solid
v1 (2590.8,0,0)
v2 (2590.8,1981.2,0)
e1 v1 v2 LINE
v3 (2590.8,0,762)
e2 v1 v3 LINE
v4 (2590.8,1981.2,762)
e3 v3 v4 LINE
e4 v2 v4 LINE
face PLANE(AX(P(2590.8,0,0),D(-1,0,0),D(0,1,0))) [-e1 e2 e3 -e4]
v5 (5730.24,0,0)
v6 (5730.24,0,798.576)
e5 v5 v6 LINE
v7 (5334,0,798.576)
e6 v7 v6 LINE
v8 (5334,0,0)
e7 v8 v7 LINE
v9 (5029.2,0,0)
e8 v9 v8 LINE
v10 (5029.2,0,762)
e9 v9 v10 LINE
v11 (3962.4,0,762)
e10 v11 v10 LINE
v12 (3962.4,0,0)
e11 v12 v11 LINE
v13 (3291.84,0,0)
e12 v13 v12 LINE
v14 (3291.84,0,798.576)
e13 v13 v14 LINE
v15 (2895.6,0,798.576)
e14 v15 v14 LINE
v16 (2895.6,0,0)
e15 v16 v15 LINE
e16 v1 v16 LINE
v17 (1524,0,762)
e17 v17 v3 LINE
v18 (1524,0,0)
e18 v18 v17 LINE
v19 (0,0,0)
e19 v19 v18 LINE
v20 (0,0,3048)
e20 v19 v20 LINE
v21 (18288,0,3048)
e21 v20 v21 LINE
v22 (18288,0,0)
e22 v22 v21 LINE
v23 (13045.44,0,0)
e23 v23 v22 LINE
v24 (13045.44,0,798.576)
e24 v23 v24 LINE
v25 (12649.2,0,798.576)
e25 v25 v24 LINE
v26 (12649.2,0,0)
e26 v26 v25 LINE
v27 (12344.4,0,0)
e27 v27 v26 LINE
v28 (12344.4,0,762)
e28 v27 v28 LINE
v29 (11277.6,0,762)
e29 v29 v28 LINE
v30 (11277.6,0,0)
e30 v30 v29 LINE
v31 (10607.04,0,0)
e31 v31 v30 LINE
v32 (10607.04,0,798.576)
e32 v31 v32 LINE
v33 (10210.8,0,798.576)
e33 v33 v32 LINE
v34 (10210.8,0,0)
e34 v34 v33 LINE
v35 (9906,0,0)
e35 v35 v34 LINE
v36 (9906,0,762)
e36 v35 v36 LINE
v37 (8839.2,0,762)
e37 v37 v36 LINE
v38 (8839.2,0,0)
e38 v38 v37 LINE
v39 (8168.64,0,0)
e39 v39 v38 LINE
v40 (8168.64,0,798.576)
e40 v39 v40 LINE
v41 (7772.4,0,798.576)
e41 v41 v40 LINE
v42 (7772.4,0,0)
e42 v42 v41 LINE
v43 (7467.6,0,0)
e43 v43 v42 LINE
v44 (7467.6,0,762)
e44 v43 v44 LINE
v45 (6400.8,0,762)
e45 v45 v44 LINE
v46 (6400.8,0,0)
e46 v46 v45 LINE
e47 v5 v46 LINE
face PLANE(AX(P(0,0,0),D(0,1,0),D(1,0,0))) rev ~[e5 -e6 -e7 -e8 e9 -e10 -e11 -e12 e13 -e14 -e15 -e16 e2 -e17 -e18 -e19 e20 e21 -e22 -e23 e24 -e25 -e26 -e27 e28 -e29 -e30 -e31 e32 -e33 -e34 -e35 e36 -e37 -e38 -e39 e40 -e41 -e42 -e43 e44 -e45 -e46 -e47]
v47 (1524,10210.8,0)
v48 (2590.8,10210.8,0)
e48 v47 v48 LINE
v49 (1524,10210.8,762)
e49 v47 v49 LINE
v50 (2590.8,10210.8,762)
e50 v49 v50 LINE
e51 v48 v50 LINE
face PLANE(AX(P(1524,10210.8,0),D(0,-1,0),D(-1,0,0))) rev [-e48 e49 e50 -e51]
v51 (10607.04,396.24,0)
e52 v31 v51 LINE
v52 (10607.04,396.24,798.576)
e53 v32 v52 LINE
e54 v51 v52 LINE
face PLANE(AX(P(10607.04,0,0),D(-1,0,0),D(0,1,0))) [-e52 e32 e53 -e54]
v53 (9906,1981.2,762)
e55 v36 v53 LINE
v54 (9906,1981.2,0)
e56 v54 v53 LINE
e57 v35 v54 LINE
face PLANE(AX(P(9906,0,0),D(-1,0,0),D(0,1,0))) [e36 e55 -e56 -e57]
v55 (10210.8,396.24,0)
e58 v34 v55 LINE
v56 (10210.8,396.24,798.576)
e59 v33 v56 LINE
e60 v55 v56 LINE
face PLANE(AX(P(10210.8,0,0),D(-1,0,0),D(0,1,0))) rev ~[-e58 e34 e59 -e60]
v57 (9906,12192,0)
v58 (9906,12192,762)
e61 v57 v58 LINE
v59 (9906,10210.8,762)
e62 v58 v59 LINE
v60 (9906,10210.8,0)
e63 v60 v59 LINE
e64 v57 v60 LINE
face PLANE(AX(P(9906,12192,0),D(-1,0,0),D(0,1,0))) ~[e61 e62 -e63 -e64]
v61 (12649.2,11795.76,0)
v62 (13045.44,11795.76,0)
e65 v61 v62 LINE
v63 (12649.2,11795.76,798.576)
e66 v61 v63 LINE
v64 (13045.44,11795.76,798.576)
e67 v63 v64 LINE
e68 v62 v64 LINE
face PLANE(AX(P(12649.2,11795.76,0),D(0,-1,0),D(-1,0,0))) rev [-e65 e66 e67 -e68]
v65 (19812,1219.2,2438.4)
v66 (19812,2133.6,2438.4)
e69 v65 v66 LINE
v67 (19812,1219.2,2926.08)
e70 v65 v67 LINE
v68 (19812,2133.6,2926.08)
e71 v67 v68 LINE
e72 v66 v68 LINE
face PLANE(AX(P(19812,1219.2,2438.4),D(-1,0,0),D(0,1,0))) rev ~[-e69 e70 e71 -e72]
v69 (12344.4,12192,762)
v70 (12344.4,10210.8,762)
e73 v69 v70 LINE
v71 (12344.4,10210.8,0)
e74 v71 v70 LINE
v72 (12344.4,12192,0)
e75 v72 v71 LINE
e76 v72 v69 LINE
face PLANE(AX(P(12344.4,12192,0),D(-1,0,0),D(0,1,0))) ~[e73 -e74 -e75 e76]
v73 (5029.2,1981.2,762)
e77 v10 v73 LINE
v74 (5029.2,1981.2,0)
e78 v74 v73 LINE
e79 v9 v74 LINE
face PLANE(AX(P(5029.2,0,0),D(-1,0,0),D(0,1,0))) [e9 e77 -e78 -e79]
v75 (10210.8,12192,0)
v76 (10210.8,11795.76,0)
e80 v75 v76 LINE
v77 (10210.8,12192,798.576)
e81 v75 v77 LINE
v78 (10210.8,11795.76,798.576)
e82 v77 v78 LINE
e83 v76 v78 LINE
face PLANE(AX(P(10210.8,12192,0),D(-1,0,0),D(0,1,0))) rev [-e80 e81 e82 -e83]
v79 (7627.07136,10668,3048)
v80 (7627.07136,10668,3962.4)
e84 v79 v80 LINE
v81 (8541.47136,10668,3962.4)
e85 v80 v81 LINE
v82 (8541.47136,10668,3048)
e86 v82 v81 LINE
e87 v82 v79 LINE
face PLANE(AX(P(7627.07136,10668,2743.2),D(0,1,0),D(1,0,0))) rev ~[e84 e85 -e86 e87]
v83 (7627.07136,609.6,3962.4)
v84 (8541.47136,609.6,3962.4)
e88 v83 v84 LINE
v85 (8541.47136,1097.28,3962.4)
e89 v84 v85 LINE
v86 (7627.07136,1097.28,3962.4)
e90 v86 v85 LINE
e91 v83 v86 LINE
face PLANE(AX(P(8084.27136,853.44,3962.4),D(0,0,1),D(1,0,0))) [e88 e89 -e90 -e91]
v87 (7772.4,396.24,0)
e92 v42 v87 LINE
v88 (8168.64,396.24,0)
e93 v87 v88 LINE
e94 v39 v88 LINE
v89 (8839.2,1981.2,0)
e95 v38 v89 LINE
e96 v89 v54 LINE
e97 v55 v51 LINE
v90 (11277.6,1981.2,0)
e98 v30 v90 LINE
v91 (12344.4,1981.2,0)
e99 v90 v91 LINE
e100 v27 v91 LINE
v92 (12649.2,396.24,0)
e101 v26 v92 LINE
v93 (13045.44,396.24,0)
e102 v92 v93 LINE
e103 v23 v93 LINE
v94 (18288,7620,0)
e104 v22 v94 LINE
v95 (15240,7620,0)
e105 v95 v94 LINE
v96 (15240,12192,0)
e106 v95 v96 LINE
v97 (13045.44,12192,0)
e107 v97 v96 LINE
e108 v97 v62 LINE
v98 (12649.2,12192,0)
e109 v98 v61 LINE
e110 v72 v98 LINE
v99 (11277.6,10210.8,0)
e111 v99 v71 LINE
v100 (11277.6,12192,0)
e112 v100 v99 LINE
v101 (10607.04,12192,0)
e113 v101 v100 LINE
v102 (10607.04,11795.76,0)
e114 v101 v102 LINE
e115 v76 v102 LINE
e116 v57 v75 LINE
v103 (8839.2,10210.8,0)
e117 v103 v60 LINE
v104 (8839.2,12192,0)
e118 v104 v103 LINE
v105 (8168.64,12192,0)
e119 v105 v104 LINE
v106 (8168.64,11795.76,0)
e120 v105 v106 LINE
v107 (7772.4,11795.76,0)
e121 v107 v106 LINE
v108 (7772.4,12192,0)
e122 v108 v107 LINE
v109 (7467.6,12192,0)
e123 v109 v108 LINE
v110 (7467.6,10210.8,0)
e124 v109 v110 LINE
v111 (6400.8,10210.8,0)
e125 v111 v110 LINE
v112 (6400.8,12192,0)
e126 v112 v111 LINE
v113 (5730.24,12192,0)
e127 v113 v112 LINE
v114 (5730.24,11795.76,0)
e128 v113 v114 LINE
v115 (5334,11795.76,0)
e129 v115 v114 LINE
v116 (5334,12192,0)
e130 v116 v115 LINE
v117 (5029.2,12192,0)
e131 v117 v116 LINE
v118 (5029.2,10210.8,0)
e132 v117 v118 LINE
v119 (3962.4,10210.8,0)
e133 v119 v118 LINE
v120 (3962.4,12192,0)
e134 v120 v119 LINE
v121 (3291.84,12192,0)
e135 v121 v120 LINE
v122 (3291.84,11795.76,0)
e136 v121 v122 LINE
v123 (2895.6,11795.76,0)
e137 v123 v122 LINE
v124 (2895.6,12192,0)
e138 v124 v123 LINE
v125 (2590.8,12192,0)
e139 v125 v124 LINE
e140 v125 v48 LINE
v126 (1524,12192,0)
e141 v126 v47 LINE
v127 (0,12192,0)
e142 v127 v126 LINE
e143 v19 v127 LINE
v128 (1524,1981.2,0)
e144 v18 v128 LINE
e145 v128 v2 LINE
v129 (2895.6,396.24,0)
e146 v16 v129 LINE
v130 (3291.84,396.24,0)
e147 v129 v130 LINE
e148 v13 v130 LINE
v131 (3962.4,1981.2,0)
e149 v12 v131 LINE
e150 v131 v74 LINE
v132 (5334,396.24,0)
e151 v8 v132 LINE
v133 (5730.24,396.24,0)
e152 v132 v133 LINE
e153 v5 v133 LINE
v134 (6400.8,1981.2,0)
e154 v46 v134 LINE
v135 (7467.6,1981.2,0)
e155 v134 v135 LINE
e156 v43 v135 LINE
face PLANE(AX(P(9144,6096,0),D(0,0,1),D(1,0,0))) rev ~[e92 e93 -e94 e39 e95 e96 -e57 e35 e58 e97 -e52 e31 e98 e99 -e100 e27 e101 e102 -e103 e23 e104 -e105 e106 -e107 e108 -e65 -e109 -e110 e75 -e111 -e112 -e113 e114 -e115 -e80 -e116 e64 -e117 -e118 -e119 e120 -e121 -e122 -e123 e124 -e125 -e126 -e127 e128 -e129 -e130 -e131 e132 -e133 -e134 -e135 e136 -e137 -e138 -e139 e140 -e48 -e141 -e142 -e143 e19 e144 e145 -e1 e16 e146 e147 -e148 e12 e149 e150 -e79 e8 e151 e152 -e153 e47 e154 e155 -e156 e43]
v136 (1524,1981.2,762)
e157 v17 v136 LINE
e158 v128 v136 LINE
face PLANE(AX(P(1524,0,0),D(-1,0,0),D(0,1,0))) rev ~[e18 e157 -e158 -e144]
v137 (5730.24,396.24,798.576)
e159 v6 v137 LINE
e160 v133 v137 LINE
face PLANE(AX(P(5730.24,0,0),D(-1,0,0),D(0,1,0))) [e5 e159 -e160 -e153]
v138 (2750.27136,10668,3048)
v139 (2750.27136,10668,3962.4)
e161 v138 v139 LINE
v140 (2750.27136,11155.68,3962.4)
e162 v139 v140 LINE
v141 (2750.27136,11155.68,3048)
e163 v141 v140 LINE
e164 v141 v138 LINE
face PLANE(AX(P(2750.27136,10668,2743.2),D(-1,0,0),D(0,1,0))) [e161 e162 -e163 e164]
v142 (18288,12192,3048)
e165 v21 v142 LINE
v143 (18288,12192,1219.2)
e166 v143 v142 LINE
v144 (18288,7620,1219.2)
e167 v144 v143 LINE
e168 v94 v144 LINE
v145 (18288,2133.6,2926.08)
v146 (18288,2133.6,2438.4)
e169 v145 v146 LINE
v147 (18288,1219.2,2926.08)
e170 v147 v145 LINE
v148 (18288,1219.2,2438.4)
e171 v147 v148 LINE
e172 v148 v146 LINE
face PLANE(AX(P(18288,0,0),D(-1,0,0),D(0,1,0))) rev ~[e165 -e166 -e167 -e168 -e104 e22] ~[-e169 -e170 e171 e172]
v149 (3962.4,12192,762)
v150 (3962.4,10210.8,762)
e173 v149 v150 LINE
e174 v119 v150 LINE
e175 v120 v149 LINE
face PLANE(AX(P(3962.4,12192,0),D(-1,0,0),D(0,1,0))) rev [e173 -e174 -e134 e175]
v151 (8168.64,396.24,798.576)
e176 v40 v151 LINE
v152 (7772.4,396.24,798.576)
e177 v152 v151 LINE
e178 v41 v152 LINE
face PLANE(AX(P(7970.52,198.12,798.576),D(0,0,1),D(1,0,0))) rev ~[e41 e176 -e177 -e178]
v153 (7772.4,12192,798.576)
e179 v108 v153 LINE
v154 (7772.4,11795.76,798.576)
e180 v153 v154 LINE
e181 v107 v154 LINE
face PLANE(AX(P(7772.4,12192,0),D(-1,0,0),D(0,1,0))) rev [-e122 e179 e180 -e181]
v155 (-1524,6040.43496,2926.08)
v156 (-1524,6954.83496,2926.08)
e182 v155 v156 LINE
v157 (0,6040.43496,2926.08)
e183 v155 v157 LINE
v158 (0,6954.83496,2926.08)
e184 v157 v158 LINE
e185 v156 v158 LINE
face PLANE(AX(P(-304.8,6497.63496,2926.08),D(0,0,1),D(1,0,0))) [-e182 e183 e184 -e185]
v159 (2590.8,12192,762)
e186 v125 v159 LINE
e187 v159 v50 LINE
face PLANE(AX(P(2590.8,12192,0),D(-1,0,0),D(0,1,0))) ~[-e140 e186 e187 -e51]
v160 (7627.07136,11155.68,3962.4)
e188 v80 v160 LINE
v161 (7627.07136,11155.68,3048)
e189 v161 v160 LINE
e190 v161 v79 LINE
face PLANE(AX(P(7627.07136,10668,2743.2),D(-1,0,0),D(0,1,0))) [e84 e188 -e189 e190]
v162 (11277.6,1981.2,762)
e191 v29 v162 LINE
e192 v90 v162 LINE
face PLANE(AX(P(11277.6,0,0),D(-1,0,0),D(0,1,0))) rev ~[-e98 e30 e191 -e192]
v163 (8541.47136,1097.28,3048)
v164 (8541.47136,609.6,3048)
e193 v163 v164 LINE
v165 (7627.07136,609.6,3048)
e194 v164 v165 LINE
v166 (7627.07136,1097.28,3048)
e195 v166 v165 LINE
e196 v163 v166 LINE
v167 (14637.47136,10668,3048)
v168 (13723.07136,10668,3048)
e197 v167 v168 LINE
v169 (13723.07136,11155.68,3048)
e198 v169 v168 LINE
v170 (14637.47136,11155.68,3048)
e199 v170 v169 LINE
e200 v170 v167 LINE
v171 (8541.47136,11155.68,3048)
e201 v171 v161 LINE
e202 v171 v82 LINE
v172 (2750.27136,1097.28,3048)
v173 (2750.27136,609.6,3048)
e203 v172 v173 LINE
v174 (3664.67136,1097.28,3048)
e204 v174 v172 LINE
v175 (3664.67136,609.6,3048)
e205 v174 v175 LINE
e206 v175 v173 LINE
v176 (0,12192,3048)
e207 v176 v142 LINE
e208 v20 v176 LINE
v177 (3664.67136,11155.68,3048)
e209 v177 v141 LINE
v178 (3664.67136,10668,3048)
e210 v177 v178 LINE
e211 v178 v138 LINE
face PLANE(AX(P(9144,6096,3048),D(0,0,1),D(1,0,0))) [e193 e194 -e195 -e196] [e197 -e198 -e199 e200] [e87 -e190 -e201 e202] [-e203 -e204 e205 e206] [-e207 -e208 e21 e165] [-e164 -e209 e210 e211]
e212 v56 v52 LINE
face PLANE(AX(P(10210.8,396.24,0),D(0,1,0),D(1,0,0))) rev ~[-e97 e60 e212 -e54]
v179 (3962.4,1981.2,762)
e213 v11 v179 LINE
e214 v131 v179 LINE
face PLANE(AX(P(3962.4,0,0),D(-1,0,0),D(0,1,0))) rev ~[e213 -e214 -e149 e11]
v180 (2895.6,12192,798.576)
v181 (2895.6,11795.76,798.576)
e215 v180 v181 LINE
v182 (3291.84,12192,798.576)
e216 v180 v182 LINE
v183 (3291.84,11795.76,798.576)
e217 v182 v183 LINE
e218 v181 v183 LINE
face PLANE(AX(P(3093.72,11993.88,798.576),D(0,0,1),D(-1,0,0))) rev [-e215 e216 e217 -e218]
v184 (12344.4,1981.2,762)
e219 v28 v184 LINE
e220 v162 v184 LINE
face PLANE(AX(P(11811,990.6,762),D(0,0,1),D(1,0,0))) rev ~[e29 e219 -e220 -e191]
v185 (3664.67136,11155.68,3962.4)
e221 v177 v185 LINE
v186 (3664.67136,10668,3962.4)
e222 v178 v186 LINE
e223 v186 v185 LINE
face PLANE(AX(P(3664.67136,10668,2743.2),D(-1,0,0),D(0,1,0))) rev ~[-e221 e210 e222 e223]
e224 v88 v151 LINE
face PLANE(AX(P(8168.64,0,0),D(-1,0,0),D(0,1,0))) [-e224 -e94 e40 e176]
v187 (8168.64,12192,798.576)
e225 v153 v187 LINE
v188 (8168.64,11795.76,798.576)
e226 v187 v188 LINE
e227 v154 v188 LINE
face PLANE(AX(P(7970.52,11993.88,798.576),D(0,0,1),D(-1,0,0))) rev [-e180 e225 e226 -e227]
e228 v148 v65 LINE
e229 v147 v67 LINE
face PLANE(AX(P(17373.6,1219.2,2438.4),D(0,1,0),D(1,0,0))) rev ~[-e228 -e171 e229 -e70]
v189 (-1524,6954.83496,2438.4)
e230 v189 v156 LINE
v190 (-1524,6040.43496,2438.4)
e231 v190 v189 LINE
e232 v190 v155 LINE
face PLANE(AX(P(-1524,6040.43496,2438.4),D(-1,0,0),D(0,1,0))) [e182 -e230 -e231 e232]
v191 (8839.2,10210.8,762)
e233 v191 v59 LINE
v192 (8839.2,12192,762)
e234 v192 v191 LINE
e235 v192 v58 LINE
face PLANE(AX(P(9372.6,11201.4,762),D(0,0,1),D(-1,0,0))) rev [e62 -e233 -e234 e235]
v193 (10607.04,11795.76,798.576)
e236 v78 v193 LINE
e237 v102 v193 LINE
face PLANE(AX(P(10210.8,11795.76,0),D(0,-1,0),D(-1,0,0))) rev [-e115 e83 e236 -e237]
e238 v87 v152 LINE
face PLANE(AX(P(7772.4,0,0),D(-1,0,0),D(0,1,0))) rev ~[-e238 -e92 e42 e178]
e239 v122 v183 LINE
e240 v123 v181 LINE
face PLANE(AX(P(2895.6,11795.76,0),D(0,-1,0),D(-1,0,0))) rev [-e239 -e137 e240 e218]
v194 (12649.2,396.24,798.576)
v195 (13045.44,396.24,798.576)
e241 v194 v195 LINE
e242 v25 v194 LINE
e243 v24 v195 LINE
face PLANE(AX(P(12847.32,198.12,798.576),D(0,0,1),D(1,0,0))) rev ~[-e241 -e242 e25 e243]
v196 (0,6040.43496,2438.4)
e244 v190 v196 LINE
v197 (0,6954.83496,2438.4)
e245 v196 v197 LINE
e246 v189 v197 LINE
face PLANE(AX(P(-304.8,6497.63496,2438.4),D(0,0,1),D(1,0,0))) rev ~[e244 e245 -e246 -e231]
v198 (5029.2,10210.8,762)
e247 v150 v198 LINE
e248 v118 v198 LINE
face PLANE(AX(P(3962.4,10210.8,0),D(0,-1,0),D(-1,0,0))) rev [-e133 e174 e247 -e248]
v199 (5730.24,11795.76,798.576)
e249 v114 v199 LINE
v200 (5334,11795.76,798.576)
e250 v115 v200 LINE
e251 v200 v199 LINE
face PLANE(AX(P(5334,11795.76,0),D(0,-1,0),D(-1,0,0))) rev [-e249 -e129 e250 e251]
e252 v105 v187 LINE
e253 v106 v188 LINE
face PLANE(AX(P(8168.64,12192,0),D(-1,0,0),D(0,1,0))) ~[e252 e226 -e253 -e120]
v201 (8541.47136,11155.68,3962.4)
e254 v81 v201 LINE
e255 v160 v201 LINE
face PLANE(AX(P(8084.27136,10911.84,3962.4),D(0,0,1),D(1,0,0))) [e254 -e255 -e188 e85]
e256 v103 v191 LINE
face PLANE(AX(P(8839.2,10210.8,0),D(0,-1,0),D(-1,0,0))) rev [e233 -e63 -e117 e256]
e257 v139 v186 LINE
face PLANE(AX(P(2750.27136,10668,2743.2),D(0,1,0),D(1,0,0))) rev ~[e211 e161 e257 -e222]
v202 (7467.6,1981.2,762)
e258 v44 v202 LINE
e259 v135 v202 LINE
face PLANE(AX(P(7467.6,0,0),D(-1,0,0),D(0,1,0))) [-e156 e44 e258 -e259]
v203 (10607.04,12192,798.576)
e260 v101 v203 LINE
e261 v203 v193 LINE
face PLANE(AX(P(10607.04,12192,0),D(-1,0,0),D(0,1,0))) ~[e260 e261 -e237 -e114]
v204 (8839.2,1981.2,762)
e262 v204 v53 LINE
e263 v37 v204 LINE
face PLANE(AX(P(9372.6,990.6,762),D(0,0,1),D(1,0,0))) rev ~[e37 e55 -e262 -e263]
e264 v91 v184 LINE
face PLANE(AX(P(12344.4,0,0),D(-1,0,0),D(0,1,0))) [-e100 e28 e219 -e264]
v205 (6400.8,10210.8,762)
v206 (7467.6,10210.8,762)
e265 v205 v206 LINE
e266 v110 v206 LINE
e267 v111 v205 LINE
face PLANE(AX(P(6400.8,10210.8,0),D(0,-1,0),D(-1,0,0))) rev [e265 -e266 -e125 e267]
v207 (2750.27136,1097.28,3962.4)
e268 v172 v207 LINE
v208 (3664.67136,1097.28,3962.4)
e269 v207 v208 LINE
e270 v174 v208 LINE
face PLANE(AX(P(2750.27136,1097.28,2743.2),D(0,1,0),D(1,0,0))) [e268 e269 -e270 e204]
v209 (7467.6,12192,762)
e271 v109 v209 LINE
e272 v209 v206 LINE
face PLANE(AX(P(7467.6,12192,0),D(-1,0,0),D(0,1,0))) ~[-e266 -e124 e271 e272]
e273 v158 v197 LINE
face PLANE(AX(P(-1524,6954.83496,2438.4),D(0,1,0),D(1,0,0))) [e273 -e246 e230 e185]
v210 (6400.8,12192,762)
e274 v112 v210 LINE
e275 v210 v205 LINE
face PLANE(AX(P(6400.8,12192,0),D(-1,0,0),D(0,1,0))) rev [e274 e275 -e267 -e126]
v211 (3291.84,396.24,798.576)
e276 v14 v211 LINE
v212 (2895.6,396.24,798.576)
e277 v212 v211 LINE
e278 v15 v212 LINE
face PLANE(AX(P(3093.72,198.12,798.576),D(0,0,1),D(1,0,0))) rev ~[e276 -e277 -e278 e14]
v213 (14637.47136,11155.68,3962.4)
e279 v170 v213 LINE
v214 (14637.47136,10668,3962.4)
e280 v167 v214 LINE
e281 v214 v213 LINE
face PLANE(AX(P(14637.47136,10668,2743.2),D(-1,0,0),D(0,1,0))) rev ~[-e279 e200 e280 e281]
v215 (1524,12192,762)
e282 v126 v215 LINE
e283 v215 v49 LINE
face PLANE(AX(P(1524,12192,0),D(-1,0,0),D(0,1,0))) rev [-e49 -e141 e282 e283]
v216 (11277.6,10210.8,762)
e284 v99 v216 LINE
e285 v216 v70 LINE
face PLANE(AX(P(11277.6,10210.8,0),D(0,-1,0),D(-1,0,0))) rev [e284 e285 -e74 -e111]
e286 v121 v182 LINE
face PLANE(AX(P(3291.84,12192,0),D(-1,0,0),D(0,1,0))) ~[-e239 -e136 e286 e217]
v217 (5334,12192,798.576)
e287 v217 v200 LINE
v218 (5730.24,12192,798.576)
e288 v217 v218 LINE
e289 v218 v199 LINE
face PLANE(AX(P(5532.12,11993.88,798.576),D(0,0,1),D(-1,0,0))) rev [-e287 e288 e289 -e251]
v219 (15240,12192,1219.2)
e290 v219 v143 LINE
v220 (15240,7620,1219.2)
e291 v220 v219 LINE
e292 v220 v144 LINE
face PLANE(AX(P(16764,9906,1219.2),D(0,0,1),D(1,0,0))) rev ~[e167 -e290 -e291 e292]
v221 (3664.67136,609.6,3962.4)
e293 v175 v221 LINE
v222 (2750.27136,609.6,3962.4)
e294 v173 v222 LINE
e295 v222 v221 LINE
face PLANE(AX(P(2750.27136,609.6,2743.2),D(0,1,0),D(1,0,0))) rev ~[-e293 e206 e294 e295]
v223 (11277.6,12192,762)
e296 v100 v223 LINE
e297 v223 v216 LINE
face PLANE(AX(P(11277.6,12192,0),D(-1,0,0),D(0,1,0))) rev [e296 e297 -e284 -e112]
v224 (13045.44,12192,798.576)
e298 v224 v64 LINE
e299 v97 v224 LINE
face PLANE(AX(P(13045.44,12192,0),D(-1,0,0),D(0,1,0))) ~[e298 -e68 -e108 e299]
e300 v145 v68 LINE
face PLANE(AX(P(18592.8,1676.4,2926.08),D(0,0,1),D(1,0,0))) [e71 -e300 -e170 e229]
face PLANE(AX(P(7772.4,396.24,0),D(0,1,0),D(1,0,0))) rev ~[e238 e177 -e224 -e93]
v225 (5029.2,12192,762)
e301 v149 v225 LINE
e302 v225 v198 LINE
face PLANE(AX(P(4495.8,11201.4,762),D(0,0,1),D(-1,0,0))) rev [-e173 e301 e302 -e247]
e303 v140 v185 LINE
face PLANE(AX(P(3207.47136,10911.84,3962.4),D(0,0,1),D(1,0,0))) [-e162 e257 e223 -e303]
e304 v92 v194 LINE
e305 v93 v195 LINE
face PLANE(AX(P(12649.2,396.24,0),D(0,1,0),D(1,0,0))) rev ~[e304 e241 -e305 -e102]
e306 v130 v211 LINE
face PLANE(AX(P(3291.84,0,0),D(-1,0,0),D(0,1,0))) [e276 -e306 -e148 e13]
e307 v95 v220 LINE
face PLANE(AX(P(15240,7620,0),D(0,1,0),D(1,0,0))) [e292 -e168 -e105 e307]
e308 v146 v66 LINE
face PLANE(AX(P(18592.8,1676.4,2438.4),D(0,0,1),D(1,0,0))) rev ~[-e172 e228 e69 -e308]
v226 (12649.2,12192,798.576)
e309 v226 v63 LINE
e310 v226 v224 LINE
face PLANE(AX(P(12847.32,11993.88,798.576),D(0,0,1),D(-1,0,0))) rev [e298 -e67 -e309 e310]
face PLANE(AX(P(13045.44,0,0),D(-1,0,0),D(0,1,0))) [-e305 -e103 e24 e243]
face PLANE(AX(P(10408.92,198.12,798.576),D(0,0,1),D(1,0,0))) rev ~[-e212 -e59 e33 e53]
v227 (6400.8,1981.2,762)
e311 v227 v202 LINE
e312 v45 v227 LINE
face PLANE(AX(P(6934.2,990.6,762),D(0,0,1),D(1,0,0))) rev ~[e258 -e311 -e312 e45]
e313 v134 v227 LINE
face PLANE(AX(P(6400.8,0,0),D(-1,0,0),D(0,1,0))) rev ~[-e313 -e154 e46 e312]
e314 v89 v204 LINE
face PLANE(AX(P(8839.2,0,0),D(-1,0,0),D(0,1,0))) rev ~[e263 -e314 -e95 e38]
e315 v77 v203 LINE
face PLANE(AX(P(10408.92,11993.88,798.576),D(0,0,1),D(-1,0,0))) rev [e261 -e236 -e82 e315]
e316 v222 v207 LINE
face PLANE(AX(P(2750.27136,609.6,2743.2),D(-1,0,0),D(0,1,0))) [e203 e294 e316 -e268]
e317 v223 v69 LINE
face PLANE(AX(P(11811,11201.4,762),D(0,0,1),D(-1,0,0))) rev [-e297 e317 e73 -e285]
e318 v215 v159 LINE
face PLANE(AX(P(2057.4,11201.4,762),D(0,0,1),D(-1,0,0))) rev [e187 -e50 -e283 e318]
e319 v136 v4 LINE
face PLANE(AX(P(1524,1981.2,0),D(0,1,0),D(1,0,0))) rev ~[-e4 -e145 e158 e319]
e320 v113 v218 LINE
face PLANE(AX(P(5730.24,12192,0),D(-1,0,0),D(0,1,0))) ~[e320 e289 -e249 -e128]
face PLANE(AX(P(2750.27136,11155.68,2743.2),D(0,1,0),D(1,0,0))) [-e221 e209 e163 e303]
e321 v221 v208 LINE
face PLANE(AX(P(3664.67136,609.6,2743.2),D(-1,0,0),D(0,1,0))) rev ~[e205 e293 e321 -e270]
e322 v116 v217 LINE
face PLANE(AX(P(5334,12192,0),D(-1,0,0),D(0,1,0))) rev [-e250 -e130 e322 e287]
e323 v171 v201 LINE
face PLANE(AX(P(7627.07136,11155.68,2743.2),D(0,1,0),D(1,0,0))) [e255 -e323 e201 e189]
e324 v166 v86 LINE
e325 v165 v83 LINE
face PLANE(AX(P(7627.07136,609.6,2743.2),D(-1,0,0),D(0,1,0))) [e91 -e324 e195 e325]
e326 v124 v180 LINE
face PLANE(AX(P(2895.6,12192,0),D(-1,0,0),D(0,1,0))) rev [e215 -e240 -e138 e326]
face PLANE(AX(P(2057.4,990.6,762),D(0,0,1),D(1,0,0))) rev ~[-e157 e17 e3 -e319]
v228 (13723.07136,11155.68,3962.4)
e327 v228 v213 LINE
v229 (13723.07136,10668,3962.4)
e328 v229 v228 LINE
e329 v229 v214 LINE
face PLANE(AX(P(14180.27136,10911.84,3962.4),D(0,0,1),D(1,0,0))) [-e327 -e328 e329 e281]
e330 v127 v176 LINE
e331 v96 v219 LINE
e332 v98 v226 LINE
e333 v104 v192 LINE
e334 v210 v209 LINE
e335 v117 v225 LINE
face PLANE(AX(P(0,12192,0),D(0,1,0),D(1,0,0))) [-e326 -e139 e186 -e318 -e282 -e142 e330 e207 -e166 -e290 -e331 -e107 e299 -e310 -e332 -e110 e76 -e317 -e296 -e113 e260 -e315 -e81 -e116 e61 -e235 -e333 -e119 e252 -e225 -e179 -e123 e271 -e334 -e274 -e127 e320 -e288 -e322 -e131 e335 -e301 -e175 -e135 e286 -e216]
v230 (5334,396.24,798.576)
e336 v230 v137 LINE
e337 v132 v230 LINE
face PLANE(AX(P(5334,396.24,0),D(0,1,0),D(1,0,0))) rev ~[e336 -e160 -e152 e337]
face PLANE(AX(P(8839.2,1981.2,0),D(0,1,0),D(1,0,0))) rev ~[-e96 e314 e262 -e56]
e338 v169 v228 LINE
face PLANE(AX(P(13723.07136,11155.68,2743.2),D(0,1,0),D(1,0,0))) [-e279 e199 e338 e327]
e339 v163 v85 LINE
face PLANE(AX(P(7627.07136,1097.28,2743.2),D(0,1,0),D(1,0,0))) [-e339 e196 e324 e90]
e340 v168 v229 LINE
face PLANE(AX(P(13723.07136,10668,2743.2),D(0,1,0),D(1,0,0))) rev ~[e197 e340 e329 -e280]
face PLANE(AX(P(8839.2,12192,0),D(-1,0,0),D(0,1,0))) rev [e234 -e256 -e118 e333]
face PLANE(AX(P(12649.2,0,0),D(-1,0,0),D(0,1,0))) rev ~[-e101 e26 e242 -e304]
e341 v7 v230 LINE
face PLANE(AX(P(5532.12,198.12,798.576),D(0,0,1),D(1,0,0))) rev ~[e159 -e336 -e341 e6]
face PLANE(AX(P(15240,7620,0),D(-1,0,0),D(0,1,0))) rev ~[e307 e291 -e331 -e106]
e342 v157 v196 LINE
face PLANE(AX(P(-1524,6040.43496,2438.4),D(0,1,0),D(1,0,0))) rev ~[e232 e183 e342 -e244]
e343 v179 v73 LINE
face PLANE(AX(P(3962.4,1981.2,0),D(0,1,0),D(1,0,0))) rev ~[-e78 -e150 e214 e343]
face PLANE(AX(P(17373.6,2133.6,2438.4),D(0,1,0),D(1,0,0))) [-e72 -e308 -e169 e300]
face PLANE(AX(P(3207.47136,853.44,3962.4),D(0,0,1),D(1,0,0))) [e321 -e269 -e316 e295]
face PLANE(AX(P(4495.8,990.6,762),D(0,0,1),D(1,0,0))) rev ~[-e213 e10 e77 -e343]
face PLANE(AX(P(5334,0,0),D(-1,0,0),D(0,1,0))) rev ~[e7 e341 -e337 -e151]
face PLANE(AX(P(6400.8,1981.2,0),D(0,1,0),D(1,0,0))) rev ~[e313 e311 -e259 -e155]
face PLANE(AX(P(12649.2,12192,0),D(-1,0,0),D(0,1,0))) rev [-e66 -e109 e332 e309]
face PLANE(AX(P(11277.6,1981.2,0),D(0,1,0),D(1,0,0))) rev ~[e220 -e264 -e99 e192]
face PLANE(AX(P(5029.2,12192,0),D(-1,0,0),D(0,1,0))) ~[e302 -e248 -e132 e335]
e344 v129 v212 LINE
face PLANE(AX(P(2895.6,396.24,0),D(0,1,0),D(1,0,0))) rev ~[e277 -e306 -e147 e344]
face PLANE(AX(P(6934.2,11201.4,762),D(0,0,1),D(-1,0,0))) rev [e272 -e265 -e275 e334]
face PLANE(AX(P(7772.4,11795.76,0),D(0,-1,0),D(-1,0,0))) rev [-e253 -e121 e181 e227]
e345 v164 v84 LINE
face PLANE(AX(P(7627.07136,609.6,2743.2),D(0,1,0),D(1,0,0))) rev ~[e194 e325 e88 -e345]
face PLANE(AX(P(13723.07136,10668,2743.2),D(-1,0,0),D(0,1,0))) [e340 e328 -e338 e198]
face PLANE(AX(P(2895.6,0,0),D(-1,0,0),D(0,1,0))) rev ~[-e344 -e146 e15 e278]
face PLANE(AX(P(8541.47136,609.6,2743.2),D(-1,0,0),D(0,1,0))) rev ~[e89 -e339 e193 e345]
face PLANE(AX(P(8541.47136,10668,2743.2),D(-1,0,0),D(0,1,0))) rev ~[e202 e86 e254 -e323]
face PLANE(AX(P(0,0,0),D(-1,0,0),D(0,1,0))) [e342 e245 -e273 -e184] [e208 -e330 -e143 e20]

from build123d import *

# Parameters (mm, degrees)
BOX011_W     = 3048
BOX011_H     = 4572
BOX011_DEPTH = 1219.2
BOX006_W     = 1066.8
BOX006_H     = 1981.2
BOX006_DEPTH = 762
BOX005_W     = 396.24
BOX005_H     = 396.24
BOX005_DEPTH = 798.576
BOX007_W     = 1066.8
BOX007_H     = 1981.2
BOX007_DEPTH = 762
BOX008_W     = 396.24
BOX008_H     = 396.24
BOX008_DEPTH = 798.576
BOX010_W     = 1066.8
BOX010_H     = 1981.2
BOX010_DEPTH = 762
BOX009_W     = 396.24
BOX009_H     = 396.24
BOX009_DEPTH = 798.576
BOX001_W     = 1066.8
BOX001_H     = 1981.2
BOX001_DEPTH = 762
BOX002_W     = 396.24
BOX002_H     = 396.24
BOX002_DEPTH = 798.576
BOX003_W     = 1066.8
BOX003_H     = 1981.2
BOX003_DEPTH = 762
BOX004_W     = 396.24
BOX004_H     = 396.24
BOX004_DEPTH = 798.576
BOX012_W     = 2438.4
BOX012_H     = 914.4
BOX012_DEPTH = 487.68
BOX013_W     = 2438.4
BOX013_H     = 914.4
BOX013_DEPTH = 487.68
BOX016_W     = 914.4
BOX016_H     = 487.68
BOX016_DEPTH = 1219.2
BOX017_W     = 914.4
BOX017_H     = 487.68
BOX017_DEPTH = 1219.2
BOX018_W     = 914.4
BOX018_H     = 487.68
BOX018_DEPTH = 1219.2
BOX019_W     = 914.4
BOX019_H     = 487.68
BOX019_DEPTH = 1219.2
BOX014_W     = 914.4
BOX014_H     = 487.68
BOX014_DEPTH = 1219.2
BOX_W        = 18288
BOX_H        = 12192
BOX_DEPTH    = 3048


with BuildPart() as nurse_station:
    # Box011 → Box011 (new body)
    with BuildSketch(Plane(origin=(15240, 7620, 0), x_dir=(1, 0, 0), z_dir=(0, 0, 1))):
        with Locations((1524, 2286)):
            Rectangle(BOX011_W, BOX011_H)
    extrude(amount=BOX011_DEPTH)


with BuildPart() as box006:
    # Box006 → Box006 (new body)
    with BuildSketch(Plane.XY):
        with Locations((533.4, 990.6)):
            Rectangle(BOX006_W, BOX006_H)
    extrude(amount=BOX006_DEPTH)


with BuildPart() as fusion002:
    # Box005 → Box005 (new body)
    with BuildSketch(Plane(origin=(1371.6, 0, 0), x_dir=(1, 0, 0), z_dir=(0, 0, 1))):
        with Locations((198.12, 198.12)):
            Rectangle(BOX005_W, BOX005_H)
    extrude(amount=BOX005_DEPTH)

    # Fusion002: union Box006
    add(box006.part)


with BuildPart() as fusion002_1:
    # Fusion002 placement: moved
    add(fusion002.part.moved(Location((4876.8, 0, 0))))


with BuildPart() as box007:
    # Box007 → Box007 (new body)
    with BuildSketch(Plane.XY):
        with Locations((533.4, 990.6)):
            Rectangle(BOX007_W, BOX007_H)
    extrude(amount=BOX007_DEPTH)


with BuildPart() as fusion003:
    # Box008 → Box008 (new body)
    with BuildSketch(Plane(origin=(1371.6, 0, 0), x_dir=(1, 0, 0), z_dir=(0, 0, 1))):
        with Locations((198.12, 198.12)):
            Rectangle(BOX008_W, BOX008_H)
    extrude(amount=BOX008_DEPTH)

    # Fusion003: union Box007
    add(box007.part)


with BuildPart() as fusion003_1:
    # Fusion003 placement: moved
    add(fusion003.part.moved(Location((7315.2, 0, 0))))


with BuildPart() as box010:
    # Box010 → Box010 (new body)
    with BuildSketch(Plane.XY):
        with Locations((533.4, 990.6)):
            Rectangle(BOX010_W, BOX010_H)
    extrude(amount=BOX010_DEPTH)


with BuildPart() as fusion004:
    # Box009 → Box009 (new body)
    with BuildSketch(Plane(origin=(1371.6, 0, 0), x_dir=(1, 0, 0), z_dir=(0, 0, 1))):
        with Locations((198.12, 198.12)):
            Rectangle(BOX009_W, BOX009_H)
    extrude(amount=BOX009_DEPTH)

    # Fusion004: union Box010
    add(box010.part)


with BuildPart() as fusion004_1:
    # Fusion004 placement: moved
    add(fusion004.part.moved(Location((9753.6, 0, 0))))


with BuildPart() as box001:
    # Box001 → Box001 (new body)
    with BuildSketch(Plane.XY):
        with Locations((533.4, 990.6)):
            Rectangle(BOX001_W, BOX001_H)
    extrude(amount=BOX001_DEPTH)


with BuildPart() as fusion:
    # Box002 → Box002 (new body)
    with BuildSketch(Plane(origin=(1371.6, 0, 0), x_dir=(1, 0, 0), z_dir=(0, 0, 1))):
        with Locations((198.12, 198.12)):
            Rectangle(BOX002_W, BOX002_H)
    extrude(amount=BOX002_DEPTH)

    # Fusion: union Box001
    add(box001.part)


with BuildPart() as box003:
    # Box003 → Box003 (new body)
    with BuildSketch(Plane.XY):
        with Locations((533.4, 990.6)):
            Rectangle(BOX003_W, BOX003_H)
    extrude(amount=BOX003_DEPTH)


with BuildPart() as right_beds:
    # Box004 → Box004 (new body)
    with BuildSketch(Plane(origin=(1371.6, 0, 0), x_dir=(1, 0, 0), z_dir=(0, 0, 1))):
        with Locations((198.12, 198.12)):
            Rectangle(BOX004_W, BOX004_H)
    extrude(amount=BOX004_DEPTH)

    # Fusion001: union Box003
    add(box003.part)


with BuildPart() as right_beds_1:
    # Fusion001 placement: moved
    add(right_beds.part.moved(Location((2438.4, 0, 0))))

    # Fusion005: union Fusion002, Fusion003, Fusion004, Fusion
    add(fusion002_1.part)
    add(fusion003_1.part)
    add(fusion004_1.part)
    add(fusion.part)


with BuildPart() as surfaces:
    # Part__Mirroring: instance of right beds
    add(right_beds_1.part.mirror(Plane(origin=(0, 6096, 0), x_dir=(1, 0, 0), z_dir=(0, 1, 0))))

    # Fusion006: union right beds
    add(right_beds_1.part)


with BuildPart() as surfaces_1:
    # Fusion006 placement: moved
    add(surfaces.part.moved(Location((1524, 0, 0))))

    # Fusion010: union Nurse Station
    add(nurse_station.part)


with BuildPart() as main_inlet:
    # Box012 → Box012 (new body)
    with BuildSketch(Plane(origin=(17373.6, 1219.2, 2438.4), x_dir=(1, 0, 0), z_dir=(0, 0, 1))):
        with Locations((1219.2, 457.2)):
            Rectangle(BOX012_W, BOX012_H)
    extrude(amount=BOX012_DEPTH)


with BuildPart() as main_ducts:
    # Box013 → Box013 (new body)
    with BuildSketch(Plane(origin=(-1524, 6040.43496, 2438.4), x_dir=(1, 0, 0), z_dir=(0, 0, 1))):
        with Locations((1219.2, 457.2)):
            Rectangle(BOX013_W, BOX013_H)
    extrude(amount=BOX013_DEPTH)

    # Fusion007: union main inlet
    add(main_inlet.part)


with BuildPart() as branch002:
    # Box016 → Box016 (new body)
    with BuildSketch(Plane(origin=(7924.8, 609.6, 2743.2), x_dir=(1, 0, 0), z_dir=(0, 0, 1))):
        with Locations((457.2, 243.84)):
            Rectangle(BOX016_W, BOX016_H)
    extrude(amount=BOX016_DEPTH)


with BuildPart() as branch003:
    # Box017 → Box017 (new body)
    with BuildSketch(Plane(origin=(7924.8, 10668, 2743.2), x_dir=(1, 0, 0), z_dir=(0, 0, 1))):
        with Locations((457.2, 243.84)):
            Rectangle(BOX017_W, BOX017_H)
    extrude(amount=BOX017_DEPTH)


with BuildPart() as branch004:
    # Box018 → Box018 (new body)
    with BuildSketch(Plane(origin=(3048, 609.6, 2743.2), x_dir=(1, 0, 0), z_dir=(0, 0, 1))):
        with Locations((457.2, 243.84)):
            Rectangle(BOX018_W, BOX018_H)
    extrude(amount=BOX018_DEPTH)


with BuildPart() as branch005:
    # Box019 → Box019 (new body)
    with BuildSketch(Plane(origin=(3048, 10668, 2743.2), x_dir=(1, 0, 0), z_dir=(0, 0, 1))):
        with Locations((457.2, 243.84)):
            Rectangle(BOX019_W, BOX019_H)
    extrude(amount=BOX019_DEPTH)


with BuildPart() as vents:
    # Box014 → Box014 (new body)
    with BuildSketch(Plane(origin=(14020.8, 10668, 2743.2), x_dir=(1, 0, 0), z_dir=(0, 0, 1))):
        with Locations((457.2, 243.84)):
            Rectangle(BOX014_W, BOX014_H)
    extrude(amount=BOX014_DEPTH)

    # Fusion008: union branch002, branch003, branch004, branch005
    add(branch002.part)
    add(branch003.part)
    add(branch004.part)
    add(branch005.part)


with BuildPart() as vents_1:
    # Fusion008 placement: moved
    add(vents.part.moved(Location((-297.72864, 0, 0))))

    # Fusion009: union main_ducts
    add(main_ducts.part)


with BuildPart() as cut:
    # Box → Box (new body)
    with BuildSketch(Plane.XY):
        with Locations((9144, 6096)):
            Rectangle(BOX_W, BOX_H)
    extrude(amount=BOX_DEPTH)

    # Fusion011: union vents
    add(vents_1.part)

    # Cut: cut surfaces
    add(surfaces_1.part, mode=Mode.SUBTRACT)


solid = cut.part
